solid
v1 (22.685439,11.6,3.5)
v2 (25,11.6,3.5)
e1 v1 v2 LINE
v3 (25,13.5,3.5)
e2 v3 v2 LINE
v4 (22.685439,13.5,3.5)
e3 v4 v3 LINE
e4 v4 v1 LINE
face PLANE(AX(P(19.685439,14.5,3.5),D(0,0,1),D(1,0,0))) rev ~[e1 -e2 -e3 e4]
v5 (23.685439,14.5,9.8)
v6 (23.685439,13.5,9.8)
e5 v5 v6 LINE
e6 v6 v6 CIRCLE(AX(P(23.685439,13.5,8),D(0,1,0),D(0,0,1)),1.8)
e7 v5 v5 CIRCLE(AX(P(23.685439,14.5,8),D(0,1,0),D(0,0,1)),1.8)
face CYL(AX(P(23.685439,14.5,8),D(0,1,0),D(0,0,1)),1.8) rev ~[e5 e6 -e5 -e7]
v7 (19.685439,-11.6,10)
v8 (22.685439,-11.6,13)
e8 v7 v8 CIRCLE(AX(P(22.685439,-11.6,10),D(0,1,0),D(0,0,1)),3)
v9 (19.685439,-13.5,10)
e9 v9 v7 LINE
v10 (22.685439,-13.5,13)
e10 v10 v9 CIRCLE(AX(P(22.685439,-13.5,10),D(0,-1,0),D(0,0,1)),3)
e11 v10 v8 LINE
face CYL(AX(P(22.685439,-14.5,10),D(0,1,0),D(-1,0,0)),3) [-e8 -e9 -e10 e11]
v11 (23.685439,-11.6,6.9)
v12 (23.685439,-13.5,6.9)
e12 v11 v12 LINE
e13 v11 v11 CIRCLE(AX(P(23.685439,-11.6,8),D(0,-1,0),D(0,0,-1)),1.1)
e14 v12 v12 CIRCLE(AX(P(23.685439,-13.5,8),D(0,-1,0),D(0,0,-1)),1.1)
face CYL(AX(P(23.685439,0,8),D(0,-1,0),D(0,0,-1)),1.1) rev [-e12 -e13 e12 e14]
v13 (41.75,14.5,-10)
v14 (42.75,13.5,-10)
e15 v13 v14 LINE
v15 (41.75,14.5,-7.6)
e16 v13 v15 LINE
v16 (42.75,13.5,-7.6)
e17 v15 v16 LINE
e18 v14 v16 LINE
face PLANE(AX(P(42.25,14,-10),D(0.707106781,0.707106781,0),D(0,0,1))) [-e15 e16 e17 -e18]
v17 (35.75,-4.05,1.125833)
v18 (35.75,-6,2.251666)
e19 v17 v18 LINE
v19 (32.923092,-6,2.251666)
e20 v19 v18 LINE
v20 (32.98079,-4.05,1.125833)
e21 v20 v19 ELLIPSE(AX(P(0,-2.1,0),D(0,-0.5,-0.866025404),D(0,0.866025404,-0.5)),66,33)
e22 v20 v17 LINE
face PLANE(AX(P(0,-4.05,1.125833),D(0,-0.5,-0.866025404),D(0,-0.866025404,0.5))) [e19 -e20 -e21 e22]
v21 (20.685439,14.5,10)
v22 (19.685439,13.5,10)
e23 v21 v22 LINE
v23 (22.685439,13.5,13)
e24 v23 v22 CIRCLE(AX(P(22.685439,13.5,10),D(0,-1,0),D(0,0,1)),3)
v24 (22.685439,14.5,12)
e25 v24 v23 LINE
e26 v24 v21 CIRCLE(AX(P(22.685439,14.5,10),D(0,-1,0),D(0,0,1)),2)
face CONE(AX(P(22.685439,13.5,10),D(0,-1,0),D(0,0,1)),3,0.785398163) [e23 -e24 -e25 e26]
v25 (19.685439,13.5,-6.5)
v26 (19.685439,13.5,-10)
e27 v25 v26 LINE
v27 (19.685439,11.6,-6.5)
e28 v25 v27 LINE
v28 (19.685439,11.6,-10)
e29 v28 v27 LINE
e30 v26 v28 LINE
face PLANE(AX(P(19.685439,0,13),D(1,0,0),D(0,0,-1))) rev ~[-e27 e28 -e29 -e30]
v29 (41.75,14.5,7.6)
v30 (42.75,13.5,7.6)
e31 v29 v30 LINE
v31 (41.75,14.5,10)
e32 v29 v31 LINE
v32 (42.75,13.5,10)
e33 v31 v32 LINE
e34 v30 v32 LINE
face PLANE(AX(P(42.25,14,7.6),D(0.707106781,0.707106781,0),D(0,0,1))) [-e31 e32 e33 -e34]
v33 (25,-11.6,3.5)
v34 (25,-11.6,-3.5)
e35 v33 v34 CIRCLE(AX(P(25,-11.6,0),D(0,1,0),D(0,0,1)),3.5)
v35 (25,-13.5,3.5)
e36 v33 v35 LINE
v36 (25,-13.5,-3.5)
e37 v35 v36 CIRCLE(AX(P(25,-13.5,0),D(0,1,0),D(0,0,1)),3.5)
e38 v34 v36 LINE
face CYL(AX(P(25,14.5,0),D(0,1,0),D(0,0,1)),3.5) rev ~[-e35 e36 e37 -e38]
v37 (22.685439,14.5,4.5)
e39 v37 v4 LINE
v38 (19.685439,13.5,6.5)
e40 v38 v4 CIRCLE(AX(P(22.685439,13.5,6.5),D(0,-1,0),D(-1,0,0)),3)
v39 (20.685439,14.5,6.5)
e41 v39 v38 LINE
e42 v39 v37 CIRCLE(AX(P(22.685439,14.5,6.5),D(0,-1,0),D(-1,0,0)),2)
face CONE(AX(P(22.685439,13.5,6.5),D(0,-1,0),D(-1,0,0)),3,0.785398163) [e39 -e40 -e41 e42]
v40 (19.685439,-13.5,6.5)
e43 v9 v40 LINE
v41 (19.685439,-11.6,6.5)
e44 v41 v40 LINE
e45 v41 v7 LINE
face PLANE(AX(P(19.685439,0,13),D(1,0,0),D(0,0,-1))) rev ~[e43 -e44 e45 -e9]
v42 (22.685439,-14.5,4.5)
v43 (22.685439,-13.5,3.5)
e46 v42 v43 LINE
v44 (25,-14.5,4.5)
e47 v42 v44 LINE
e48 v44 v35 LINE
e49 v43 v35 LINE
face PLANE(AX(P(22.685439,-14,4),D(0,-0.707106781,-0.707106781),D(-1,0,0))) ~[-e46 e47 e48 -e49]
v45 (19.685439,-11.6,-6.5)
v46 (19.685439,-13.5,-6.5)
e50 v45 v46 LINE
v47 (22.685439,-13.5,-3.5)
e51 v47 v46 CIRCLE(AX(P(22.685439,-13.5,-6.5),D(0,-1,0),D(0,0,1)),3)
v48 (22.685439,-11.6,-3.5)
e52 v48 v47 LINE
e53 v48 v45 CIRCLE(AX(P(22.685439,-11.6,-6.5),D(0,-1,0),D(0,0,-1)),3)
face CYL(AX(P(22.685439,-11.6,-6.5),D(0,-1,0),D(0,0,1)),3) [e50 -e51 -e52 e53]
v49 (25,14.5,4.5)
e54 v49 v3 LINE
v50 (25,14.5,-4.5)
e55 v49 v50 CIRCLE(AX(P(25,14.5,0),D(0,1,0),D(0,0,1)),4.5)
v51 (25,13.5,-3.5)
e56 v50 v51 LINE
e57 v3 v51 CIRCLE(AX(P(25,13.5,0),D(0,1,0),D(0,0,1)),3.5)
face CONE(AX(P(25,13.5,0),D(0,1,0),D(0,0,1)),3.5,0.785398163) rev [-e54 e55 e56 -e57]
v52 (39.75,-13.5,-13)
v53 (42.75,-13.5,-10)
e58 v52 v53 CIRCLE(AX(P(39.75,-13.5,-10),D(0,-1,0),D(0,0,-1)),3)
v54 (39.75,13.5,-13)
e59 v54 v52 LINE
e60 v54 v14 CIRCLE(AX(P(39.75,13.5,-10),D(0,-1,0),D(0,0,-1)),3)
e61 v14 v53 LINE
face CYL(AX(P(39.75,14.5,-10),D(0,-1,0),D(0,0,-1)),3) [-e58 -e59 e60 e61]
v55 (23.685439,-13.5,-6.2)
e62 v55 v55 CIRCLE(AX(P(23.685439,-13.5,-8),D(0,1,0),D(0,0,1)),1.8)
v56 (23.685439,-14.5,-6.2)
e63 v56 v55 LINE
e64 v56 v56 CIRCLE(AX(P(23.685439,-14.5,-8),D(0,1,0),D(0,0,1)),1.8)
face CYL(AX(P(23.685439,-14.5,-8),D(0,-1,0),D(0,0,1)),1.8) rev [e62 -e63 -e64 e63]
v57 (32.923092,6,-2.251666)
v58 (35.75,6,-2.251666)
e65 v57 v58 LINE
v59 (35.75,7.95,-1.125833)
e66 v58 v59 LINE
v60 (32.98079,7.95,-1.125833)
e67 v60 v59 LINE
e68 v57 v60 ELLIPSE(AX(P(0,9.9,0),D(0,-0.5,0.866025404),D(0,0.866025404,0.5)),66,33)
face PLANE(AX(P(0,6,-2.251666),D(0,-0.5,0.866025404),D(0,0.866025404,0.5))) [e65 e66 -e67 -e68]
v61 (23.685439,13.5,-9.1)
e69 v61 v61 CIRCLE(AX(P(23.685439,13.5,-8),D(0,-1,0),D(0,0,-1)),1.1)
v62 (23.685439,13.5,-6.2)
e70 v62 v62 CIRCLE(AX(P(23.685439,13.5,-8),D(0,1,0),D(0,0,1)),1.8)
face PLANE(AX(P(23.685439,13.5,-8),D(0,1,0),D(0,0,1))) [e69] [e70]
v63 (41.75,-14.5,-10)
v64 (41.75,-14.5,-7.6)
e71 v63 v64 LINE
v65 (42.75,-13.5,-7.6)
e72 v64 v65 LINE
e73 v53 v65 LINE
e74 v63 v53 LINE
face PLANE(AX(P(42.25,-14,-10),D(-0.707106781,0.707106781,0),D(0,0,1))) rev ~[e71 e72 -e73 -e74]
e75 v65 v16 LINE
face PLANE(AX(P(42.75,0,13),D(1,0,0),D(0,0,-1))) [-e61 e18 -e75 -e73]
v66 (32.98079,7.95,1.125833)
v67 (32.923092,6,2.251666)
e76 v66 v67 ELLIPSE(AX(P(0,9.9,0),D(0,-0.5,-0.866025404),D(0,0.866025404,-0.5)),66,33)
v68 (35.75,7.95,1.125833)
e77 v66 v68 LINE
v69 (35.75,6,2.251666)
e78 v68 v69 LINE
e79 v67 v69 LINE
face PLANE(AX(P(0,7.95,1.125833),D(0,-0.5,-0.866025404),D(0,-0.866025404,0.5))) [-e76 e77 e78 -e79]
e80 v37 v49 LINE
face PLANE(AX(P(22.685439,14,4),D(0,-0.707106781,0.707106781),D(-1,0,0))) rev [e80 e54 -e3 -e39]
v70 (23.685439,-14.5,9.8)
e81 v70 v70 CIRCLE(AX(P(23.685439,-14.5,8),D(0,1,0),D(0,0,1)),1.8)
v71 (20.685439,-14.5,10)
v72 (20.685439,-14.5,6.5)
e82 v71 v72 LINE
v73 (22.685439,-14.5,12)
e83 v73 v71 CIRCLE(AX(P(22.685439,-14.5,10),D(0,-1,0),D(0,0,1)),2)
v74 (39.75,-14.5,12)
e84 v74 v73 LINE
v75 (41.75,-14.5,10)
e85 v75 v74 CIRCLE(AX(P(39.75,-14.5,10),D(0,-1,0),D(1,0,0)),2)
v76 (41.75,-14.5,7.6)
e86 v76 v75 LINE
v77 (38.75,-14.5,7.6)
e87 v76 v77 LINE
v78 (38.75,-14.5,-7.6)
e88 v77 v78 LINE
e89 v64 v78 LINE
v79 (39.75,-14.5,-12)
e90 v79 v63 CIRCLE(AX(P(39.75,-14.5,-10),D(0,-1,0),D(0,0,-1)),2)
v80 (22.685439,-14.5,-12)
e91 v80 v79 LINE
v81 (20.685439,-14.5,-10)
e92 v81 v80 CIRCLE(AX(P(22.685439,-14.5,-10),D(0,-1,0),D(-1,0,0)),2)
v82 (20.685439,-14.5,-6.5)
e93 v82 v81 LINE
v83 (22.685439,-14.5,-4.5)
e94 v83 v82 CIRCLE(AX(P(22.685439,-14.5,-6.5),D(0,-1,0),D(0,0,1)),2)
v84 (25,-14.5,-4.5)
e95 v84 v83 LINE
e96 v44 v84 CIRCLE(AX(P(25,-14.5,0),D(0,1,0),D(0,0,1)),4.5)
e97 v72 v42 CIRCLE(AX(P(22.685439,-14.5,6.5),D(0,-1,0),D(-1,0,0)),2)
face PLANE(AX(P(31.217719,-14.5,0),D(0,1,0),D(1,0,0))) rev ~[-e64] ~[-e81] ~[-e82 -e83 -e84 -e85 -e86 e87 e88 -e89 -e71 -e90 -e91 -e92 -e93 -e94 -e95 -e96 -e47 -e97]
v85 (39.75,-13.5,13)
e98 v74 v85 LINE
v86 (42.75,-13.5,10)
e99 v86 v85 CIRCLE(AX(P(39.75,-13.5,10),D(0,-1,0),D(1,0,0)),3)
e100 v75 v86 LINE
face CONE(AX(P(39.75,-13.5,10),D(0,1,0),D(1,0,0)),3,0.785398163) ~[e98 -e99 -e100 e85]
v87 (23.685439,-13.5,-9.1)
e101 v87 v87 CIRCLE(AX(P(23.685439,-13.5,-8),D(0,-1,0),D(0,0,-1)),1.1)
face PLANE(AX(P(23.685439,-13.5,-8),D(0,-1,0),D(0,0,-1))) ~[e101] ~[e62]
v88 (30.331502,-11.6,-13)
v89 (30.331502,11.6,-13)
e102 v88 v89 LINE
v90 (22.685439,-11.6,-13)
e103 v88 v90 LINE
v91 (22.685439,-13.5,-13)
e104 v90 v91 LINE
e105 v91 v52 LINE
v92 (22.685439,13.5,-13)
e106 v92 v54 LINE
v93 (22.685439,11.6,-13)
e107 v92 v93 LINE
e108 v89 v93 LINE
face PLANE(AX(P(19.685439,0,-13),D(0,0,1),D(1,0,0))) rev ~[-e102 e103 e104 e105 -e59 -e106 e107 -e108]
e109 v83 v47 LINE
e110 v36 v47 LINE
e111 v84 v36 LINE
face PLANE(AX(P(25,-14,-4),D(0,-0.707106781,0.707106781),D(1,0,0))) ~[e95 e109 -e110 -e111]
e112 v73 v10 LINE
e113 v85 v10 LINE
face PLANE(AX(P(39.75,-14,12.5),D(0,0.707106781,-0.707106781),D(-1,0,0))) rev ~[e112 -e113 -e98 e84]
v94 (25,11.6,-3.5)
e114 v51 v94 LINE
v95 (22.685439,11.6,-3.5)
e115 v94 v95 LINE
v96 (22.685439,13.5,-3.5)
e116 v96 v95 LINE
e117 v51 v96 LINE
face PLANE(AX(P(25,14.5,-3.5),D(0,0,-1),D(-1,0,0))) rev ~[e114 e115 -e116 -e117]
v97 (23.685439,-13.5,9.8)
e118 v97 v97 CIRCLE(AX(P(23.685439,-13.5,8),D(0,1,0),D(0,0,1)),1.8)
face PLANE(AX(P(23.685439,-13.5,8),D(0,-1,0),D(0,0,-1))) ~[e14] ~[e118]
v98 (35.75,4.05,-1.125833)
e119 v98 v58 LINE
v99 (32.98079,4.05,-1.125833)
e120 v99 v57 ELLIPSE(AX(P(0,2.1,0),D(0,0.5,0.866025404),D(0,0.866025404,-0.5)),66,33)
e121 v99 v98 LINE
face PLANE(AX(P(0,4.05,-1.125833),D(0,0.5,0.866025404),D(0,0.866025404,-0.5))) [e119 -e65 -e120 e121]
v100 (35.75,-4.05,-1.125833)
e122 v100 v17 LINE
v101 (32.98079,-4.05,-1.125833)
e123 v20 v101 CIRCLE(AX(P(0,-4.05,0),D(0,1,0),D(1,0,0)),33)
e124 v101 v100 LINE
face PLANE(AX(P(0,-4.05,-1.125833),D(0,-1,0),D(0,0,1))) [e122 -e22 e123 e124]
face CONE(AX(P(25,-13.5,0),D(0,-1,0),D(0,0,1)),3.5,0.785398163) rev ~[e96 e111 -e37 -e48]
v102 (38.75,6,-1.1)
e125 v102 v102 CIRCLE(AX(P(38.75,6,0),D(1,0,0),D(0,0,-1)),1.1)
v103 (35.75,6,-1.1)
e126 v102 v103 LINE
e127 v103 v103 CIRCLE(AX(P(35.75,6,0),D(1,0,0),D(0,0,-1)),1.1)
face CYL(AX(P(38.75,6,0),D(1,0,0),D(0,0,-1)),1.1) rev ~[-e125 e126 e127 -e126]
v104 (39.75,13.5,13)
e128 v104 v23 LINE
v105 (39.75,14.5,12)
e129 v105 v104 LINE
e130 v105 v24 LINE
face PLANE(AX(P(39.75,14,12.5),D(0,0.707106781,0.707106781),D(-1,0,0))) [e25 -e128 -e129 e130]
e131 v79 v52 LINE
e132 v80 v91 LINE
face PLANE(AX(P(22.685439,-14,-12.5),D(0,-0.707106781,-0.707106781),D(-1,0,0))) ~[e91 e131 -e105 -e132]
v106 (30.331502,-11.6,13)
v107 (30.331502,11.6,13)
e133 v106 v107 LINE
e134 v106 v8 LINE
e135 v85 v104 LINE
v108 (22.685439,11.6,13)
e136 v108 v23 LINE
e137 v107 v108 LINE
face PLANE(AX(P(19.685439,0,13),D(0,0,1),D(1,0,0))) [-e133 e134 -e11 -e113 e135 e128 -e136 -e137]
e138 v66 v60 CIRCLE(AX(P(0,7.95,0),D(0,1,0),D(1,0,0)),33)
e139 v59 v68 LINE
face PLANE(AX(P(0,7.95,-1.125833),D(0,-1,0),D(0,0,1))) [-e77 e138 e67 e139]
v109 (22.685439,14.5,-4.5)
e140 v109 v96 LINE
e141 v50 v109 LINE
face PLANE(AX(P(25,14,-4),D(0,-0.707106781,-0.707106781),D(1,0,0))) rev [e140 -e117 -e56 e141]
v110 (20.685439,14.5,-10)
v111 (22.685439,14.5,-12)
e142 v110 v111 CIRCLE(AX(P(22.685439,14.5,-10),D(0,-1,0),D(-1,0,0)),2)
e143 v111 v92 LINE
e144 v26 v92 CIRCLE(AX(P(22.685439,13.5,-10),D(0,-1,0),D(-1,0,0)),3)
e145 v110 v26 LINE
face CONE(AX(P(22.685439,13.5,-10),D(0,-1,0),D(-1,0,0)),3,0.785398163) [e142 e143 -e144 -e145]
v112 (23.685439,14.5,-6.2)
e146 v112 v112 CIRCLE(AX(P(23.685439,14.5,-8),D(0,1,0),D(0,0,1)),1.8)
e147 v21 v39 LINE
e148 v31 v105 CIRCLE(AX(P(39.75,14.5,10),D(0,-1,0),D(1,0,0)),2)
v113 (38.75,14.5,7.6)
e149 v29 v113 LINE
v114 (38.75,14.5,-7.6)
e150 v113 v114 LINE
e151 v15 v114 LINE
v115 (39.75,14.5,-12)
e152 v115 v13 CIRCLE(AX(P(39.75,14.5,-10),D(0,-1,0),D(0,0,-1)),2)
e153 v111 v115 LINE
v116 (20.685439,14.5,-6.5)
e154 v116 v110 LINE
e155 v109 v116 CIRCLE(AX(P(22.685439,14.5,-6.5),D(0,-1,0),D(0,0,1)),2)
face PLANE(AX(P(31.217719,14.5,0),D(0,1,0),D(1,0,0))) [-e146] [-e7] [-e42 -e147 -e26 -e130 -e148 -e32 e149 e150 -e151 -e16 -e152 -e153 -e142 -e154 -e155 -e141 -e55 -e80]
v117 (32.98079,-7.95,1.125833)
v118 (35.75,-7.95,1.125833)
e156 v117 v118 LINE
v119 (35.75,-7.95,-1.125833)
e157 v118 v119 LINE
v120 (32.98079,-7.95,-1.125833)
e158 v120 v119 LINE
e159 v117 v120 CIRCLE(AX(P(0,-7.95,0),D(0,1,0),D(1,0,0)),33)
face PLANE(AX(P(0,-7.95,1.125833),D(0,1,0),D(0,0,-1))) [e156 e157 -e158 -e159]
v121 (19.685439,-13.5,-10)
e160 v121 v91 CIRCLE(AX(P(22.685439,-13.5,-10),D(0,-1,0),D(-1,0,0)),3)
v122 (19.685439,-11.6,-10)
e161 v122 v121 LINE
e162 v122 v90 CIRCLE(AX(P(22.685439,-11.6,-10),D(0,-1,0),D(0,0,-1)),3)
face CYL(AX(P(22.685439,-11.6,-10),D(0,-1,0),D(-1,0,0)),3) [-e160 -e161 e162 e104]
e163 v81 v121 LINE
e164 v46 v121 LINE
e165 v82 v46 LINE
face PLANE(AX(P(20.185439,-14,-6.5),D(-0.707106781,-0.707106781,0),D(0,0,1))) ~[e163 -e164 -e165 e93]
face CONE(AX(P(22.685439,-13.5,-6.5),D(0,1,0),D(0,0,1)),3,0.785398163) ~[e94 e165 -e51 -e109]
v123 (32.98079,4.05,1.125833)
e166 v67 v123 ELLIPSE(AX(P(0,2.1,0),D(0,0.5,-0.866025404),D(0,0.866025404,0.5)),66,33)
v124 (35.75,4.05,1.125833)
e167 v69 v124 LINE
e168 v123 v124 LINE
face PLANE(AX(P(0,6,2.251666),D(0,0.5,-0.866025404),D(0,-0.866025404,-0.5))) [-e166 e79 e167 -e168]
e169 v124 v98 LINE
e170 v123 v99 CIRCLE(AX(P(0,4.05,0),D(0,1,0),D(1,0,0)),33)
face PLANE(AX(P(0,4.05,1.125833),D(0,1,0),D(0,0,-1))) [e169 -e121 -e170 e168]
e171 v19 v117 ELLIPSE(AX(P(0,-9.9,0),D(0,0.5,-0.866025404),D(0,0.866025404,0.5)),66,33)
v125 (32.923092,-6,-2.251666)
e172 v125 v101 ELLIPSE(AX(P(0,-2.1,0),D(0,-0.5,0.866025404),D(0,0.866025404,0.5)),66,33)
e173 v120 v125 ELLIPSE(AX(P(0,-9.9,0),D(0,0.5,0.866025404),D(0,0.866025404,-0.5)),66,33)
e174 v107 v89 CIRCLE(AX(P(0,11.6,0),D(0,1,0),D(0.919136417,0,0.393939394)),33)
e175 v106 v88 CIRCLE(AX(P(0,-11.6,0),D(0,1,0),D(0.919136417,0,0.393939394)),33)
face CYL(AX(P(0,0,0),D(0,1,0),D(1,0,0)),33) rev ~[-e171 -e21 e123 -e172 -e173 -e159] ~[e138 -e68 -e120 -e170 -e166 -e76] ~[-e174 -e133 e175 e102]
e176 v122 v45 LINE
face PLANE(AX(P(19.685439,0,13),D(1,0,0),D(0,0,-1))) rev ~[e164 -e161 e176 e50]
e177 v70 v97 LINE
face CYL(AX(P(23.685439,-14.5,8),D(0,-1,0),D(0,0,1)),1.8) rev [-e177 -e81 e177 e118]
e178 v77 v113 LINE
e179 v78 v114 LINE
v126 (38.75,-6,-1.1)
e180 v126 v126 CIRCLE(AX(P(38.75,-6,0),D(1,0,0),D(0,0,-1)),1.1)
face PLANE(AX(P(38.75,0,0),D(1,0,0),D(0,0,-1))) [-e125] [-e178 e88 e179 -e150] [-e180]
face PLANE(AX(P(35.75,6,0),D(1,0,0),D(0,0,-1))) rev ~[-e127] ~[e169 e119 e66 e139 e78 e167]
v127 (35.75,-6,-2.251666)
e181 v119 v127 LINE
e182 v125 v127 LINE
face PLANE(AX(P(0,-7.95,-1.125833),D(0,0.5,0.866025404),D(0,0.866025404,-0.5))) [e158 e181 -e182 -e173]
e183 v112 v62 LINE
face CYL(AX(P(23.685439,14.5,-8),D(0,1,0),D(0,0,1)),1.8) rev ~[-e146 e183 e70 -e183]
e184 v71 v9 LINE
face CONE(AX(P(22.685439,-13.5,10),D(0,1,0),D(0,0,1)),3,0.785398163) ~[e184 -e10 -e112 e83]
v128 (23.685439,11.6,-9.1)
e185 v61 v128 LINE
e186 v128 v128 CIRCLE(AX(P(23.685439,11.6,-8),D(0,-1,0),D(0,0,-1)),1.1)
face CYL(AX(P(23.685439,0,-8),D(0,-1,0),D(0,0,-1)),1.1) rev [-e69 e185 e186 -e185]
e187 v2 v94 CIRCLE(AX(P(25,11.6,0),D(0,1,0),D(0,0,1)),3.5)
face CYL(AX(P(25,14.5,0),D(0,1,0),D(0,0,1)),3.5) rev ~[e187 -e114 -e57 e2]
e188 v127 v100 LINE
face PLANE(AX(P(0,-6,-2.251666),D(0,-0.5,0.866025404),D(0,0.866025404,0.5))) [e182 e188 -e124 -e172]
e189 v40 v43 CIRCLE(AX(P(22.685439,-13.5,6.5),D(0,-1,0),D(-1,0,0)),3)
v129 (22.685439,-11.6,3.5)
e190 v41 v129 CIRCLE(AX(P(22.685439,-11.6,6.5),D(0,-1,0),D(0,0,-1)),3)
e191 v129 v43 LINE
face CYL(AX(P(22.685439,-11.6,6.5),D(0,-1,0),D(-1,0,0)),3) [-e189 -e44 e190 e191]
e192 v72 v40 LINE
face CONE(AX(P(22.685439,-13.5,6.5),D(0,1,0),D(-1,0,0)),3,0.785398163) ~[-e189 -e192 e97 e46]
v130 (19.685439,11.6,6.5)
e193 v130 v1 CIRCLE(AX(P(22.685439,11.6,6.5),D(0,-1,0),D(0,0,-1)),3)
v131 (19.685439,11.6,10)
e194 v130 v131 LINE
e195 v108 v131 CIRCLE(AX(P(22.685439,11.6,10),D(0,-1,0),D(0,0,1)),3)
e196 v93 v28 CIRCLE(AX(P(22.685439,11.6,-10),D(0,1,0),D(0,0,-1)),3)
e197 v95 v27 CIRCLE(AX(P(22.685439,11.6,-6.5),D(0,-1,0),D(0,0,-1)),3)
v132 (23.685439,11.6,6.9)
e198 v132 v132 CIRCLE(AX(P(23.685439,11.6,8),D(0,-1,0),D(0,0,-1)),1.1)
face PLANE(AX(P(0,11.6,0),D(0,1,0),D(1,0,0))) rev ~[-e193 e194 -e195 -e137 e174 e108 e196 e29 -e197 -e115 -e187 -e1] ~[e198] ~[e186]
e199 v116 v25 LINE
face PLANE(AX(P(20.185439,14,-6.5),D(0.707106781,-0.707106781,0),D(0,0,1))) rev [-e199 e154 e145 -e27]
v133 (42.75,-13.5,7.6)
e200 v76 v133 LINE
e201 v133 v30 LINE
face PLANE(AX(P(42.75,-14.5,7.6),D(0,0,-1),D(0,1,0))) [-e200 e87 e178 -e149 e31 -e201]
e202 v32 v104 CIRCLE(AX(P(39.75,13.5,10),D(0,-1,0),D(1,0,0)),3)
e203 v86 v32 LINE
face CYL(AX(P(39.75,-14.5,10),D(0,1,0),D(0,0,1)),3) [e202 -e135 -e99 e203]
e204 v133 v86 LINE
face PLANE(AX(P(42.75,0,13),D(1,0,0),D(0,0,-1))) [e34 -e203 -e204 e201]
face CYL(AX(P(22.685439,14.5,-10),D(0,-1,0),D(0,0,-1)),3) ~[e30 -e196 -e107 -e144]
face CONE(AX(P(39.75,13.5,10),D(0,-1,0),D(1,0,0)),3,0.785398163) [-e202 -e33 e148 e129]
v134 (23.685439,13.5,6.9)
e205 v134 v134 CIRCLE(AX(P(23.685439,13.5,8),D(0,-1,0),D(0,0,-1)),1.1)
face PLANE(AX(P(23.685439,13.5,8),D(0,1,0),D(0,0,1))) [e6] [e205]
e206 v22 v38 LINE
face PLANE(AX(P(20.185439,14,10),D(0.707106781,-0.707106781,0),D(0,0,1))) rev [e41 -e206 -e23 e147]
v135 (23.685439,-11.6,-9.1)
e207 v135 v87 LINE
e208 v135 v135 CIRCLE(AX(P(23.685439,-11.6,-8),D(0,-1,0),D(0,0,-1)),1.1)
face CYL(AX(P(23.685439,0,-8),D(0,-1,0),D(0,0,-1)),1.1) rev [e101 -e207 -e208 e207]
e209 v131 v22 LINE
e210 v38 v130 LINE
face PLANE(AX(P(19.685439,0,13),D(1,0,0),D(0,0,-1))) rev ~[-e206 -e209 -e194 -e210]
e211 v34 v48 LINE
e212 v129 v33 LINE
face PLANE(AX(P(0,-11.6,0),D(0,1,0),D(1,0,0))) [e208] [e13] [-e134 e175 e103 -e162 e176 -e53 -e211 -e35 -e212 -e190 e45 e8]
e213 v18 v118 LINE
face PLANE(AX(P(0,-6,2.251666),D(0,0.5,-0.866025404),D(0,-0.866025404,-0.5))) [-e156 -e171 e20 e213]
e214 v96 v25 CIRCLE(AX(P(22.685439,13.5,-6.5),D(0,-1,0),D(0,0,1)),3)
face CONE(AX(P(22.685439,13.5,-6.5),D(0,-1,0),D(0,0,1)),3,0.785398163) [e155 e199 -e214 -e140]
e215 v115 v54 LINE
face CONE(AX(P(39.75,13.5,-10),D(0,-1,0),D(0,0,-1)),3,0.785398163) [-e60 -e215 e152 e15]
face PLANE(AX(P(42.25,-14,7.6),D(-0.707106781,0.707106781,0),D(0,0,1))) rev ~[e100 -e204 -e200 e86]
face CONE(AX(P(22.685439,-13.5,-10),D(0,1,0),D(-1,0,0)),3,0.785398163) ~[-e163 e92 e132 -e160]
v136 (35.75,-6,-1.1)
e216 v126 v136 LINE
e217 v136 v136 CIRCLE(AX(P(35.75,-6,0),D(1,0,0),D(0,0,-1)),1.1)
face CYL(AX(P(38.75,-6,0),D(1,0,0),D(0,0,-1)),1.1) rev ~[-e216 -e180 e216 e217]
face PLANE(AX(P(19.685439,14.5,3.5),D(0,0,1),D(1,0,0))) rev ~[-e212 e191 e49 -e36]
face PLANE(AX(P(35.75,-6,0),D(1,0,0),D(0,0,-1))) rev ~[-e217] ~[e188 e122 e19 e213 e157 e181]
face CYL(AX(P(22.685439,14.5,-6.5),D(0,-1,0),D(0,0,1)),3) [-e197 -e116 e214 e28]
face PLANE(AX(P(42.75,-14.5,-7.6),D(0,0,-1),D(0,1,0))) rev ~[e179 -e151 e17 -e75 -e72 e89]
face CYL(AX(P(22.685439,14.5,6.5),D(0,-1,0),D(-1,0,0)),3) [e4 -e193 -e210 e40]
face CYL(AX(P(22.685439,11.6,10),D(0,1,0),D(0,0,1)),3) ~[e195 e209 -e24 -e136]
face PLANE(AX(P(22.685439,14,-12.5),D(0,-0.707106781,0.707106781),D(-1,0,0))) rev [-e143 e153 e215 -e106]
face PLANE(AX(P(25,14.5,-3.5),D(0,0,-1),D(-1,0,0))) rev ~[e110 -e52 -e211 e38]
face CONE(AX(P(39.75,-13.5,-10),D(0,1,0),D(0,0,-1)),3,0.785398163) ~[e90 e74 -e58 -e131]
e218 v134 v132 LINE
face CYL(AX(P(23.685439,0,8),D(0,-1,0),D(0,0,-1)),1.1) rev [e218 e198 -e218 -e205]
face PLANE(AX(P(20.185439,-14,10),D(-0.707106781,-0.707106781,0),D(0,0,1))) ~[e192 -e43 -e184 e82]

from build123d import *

# Parameters (mm, degrees)
SKETCH_2_W          = 23.064561435
SKETCH_2_H          = 26
SKETCH_2_R          = 1.1
EXTRUDE_1_DEPTH     = 14.5
SKETCH_3_R          = 33
CUT_EXTRUDE_1_DEPTH = 11.6
SKETCH_4_R          = 3.5
CUT_EXTRUDE_2_DEPTH = 54.268776032
SKETCH_5_W          = 15.2
SKETCH_5_H          = 29
CUT_EXTRUDE_3_DEPTH = 4
FILLET_1_R          = 3
SKETCH_6_R          = 1.1
CUT_EXTRUDE_4_DEPTH = 28.252660471
CHAMFER_1_SIZE      = 1
SKETCH_7_R          = 1.8
CUT_EXTRUDE_5_DEPTH = 1
CUT_EXTRUDE_6_DEPTH = 35.75


with BuildPart() as part:
    # Эскиз2 → Бобышка-Вытянуть1 (new, symmetric)
    with BuildSketch(Plane(origin=(0, 0, 0), x_dir=(1, 0, 0), z_dir=(0, 1, 0))):
        with Locations((31.217719282, 0)):
            Rectangle(SKETCH_2_W, SKETCH_2_H)
        with Locations(Location((23.685438565, 8, 0), (0, 0, 90))):
            Circle(SKETCH_2_R, mode=Mode.SUBTRACT)
        with Locations(Location((23.685438565, -8, 0), (0, 0, 90))):
            Circle(SKETCH_2_R, mode=Mode.SUBTRACT)
    extrude(amount=EXTRUDE_1_DEPTH, both=True)

    # Эскиз3 → Вырез-Вытянуть1 (cut, symmetric)
    with BuildSketch(Plane(origin=(0, 0, 0), x_dir=(1, 0, 0), z_dir=(0, 1, 0))):
        Circle(SKETCH_3_R)
    extrude(amount=CUT_EXTRUDE_1_DEPTH, both=True, mode=Mode.SUBTRACT)

    # Эскиз4 → Вырез-Вытянуть2 (cut, through all)
    with BuildSketch(Plane(origin=(0, 14.5, 0), x_dir=(1, 0, 0), z_dir=(0, 1, 0))):
        with Locations((25, 0)):
            Circle(SKETCH_4_R)
        with BuildLine():
            ThreePointArc((25, -3.5), (21.5, 0), (25, 3.5))
            Line((25, 3.5), (19.685438565, 3.5))
            Line((19.685438565, 3.5), (19.685438565, -3.5))
            Line((19.685438565, -3.5), (25, -3.5))
        make_face()
    extrude(amount=-CUT_EXTRUDE_2_DEPTH, mode=Mode.SUBTRACT)

    # Эскиз5 → Вырез-Вытянуть3 (cut)
    with BuildSketch(Plane(origin=(42.75, 0, 0), x_dir=(0, 0, -1), z_dir=(1, 0, 0))):
        Rectangle(SKETCH_5_W, SKETCH_5_H)
    extrude(amount=-CUT_EXTRUDE_3_DEPTH, mode=Mode.SUBTRACT)

    # Скругление1
    fillet_1_edges = [part.edges().sort_by_distance(p)[0] for p in [
        (19.685438565, -13.05, 13),
        (19.685438565, -13.05, -13),
        (19.685438565, 13.05, 3.5),
        (19.685438565, 13.05, -3.5),
        (19.685438565, -13.05, 3.5),
        (19.685438565, -13.05, -3.5),
        (42.75, 0, 13),
        (19.685438565, 13.05, 13),
        (19.685438565, 13.05, -13),
        (42.75, 0, -13),
    ]]
    fillet(fillet_1_edges, radius=FILLET_1_R)

    # Эскиз6 → Вырез-Вытянуть4 (cut, through all)
    with BuildSketch(Plane(origin=(38.75, 0, 0), x_dir=(0, 0, -1), z_dir=(1, 0, 0))):
        with Locations((0, 6)):
            Circle(SKETCH_6_R)
        with Locations((0, -6)):
            Circle(SKETCH_6_R)
    extrude(amount=-CUT_EXTRUDE_4_DEPTH, mode=Mode.SUBTRACT)

    # Фаска1
    chamfer_1_edges = [part.edges().sort_by_distance(p)[0] for p in [
        (20.564118221, 14.5, 12.121320344),
        (20.564118221, 14.5, 4.378679656),
        (20.564118221, 14.5, -4.378679656),
        (20.564118221, 14.5, -12.121320344),
        (41.871320344, 14.5, -12.121320344),
        (28.5, -14.5, 0),
        (23.842719282, -14.5, -3.5),
        (28.5, 14.5, 0),
        (23.842719282, 14.5, -3.5),
        (42.75, -14.5, -8.8),
        (42.75, 14.5, -8.8),
        (31.217719282, 14.5, -13),
        (31.217719282, -14.5, -13),
        (42.75, -14.5, 8.8),
        (31.217719282, -14.5, 13),
        (19.685438565, -14.5, 8.25),
        (23.842719282, -14.5, 3.5),
        (19.685438565, -14.5, -8.25),
        (41.871320344, -14.5, 12.121320344),
        (20.564118221, -14.5, 12.121320344),
        (20.564118221, -14.5, 4.378679656),
        (20.564118221, -14.5, -4.378679656),
        (20.564118221, -14.5, -12.121320344),
        (41.871320344, -14.5, -12.121320344),
        (19.685438565, 14.5, -8.25),
        (23.842719282, 14.5, 3.5),
        (19.685438565, 14.5, 8.25),
        (31.217719282, 14.5, 13),
        (42.75, 14.5, 8.8),
        (41.871320344, 14.5, 12.121320344),
    ]]
    chamfer(chamfer_1_edges, length=CHAMFER_1_SIZE)

    # Эскиз7 → Вырез-Вытянуть5 (cut)
    with BuildSketch(Plane(origin=(0, 14.5, 0), x_dir=(1, 0, 0), z_dir=(0, 1, 0))):
        with Locations(Location((23.685438565, 8, 0), (0, 0, 270))):
            Circle(SKETCH_7_R)
        with Locations(Location((23.685438565, -8, 0), (0, 0, 270))):
            Circle(SKETCH_7_R)
    cut_extrude_5 = extrude(amount=-CUT_EXTRUDE_5_DEPTH, mode=Mode.SUBTRACT)

    # Зеркальное отражение1: Вырез-Вытянуть5 across plane
    add(cut_extrude_5.mirror(Plane.ZX), mode=Mode.SUBTRACT)

    # Эскиз8 → Вырез-Вытянуть6 (cut)
    with BuildSketch(Plane(origin=(0, 0, 0), x_dir=(0, 0, -1), z_dir=(1, 0, 0))):
        Polygon((1.125833025, 4.05), (2.25166605, 6), (1.125833025, 7.95), (-1.125833025, 7.95), (-2.25166605, 6), (-1.125833025, 4.05), align=None)
        Polygon((1.125833025, -7.95), (2.25166605, -6), (1.125833025, -4.05), (-1.125833025, -4.05), (-2.25166605, -6), (-1.125833025, -7.95), align=None)
    extrude(amount=CUT_EXTRUDE_6_DEPTH, mode=Mode.SUBTRACT)


solid = part.part
